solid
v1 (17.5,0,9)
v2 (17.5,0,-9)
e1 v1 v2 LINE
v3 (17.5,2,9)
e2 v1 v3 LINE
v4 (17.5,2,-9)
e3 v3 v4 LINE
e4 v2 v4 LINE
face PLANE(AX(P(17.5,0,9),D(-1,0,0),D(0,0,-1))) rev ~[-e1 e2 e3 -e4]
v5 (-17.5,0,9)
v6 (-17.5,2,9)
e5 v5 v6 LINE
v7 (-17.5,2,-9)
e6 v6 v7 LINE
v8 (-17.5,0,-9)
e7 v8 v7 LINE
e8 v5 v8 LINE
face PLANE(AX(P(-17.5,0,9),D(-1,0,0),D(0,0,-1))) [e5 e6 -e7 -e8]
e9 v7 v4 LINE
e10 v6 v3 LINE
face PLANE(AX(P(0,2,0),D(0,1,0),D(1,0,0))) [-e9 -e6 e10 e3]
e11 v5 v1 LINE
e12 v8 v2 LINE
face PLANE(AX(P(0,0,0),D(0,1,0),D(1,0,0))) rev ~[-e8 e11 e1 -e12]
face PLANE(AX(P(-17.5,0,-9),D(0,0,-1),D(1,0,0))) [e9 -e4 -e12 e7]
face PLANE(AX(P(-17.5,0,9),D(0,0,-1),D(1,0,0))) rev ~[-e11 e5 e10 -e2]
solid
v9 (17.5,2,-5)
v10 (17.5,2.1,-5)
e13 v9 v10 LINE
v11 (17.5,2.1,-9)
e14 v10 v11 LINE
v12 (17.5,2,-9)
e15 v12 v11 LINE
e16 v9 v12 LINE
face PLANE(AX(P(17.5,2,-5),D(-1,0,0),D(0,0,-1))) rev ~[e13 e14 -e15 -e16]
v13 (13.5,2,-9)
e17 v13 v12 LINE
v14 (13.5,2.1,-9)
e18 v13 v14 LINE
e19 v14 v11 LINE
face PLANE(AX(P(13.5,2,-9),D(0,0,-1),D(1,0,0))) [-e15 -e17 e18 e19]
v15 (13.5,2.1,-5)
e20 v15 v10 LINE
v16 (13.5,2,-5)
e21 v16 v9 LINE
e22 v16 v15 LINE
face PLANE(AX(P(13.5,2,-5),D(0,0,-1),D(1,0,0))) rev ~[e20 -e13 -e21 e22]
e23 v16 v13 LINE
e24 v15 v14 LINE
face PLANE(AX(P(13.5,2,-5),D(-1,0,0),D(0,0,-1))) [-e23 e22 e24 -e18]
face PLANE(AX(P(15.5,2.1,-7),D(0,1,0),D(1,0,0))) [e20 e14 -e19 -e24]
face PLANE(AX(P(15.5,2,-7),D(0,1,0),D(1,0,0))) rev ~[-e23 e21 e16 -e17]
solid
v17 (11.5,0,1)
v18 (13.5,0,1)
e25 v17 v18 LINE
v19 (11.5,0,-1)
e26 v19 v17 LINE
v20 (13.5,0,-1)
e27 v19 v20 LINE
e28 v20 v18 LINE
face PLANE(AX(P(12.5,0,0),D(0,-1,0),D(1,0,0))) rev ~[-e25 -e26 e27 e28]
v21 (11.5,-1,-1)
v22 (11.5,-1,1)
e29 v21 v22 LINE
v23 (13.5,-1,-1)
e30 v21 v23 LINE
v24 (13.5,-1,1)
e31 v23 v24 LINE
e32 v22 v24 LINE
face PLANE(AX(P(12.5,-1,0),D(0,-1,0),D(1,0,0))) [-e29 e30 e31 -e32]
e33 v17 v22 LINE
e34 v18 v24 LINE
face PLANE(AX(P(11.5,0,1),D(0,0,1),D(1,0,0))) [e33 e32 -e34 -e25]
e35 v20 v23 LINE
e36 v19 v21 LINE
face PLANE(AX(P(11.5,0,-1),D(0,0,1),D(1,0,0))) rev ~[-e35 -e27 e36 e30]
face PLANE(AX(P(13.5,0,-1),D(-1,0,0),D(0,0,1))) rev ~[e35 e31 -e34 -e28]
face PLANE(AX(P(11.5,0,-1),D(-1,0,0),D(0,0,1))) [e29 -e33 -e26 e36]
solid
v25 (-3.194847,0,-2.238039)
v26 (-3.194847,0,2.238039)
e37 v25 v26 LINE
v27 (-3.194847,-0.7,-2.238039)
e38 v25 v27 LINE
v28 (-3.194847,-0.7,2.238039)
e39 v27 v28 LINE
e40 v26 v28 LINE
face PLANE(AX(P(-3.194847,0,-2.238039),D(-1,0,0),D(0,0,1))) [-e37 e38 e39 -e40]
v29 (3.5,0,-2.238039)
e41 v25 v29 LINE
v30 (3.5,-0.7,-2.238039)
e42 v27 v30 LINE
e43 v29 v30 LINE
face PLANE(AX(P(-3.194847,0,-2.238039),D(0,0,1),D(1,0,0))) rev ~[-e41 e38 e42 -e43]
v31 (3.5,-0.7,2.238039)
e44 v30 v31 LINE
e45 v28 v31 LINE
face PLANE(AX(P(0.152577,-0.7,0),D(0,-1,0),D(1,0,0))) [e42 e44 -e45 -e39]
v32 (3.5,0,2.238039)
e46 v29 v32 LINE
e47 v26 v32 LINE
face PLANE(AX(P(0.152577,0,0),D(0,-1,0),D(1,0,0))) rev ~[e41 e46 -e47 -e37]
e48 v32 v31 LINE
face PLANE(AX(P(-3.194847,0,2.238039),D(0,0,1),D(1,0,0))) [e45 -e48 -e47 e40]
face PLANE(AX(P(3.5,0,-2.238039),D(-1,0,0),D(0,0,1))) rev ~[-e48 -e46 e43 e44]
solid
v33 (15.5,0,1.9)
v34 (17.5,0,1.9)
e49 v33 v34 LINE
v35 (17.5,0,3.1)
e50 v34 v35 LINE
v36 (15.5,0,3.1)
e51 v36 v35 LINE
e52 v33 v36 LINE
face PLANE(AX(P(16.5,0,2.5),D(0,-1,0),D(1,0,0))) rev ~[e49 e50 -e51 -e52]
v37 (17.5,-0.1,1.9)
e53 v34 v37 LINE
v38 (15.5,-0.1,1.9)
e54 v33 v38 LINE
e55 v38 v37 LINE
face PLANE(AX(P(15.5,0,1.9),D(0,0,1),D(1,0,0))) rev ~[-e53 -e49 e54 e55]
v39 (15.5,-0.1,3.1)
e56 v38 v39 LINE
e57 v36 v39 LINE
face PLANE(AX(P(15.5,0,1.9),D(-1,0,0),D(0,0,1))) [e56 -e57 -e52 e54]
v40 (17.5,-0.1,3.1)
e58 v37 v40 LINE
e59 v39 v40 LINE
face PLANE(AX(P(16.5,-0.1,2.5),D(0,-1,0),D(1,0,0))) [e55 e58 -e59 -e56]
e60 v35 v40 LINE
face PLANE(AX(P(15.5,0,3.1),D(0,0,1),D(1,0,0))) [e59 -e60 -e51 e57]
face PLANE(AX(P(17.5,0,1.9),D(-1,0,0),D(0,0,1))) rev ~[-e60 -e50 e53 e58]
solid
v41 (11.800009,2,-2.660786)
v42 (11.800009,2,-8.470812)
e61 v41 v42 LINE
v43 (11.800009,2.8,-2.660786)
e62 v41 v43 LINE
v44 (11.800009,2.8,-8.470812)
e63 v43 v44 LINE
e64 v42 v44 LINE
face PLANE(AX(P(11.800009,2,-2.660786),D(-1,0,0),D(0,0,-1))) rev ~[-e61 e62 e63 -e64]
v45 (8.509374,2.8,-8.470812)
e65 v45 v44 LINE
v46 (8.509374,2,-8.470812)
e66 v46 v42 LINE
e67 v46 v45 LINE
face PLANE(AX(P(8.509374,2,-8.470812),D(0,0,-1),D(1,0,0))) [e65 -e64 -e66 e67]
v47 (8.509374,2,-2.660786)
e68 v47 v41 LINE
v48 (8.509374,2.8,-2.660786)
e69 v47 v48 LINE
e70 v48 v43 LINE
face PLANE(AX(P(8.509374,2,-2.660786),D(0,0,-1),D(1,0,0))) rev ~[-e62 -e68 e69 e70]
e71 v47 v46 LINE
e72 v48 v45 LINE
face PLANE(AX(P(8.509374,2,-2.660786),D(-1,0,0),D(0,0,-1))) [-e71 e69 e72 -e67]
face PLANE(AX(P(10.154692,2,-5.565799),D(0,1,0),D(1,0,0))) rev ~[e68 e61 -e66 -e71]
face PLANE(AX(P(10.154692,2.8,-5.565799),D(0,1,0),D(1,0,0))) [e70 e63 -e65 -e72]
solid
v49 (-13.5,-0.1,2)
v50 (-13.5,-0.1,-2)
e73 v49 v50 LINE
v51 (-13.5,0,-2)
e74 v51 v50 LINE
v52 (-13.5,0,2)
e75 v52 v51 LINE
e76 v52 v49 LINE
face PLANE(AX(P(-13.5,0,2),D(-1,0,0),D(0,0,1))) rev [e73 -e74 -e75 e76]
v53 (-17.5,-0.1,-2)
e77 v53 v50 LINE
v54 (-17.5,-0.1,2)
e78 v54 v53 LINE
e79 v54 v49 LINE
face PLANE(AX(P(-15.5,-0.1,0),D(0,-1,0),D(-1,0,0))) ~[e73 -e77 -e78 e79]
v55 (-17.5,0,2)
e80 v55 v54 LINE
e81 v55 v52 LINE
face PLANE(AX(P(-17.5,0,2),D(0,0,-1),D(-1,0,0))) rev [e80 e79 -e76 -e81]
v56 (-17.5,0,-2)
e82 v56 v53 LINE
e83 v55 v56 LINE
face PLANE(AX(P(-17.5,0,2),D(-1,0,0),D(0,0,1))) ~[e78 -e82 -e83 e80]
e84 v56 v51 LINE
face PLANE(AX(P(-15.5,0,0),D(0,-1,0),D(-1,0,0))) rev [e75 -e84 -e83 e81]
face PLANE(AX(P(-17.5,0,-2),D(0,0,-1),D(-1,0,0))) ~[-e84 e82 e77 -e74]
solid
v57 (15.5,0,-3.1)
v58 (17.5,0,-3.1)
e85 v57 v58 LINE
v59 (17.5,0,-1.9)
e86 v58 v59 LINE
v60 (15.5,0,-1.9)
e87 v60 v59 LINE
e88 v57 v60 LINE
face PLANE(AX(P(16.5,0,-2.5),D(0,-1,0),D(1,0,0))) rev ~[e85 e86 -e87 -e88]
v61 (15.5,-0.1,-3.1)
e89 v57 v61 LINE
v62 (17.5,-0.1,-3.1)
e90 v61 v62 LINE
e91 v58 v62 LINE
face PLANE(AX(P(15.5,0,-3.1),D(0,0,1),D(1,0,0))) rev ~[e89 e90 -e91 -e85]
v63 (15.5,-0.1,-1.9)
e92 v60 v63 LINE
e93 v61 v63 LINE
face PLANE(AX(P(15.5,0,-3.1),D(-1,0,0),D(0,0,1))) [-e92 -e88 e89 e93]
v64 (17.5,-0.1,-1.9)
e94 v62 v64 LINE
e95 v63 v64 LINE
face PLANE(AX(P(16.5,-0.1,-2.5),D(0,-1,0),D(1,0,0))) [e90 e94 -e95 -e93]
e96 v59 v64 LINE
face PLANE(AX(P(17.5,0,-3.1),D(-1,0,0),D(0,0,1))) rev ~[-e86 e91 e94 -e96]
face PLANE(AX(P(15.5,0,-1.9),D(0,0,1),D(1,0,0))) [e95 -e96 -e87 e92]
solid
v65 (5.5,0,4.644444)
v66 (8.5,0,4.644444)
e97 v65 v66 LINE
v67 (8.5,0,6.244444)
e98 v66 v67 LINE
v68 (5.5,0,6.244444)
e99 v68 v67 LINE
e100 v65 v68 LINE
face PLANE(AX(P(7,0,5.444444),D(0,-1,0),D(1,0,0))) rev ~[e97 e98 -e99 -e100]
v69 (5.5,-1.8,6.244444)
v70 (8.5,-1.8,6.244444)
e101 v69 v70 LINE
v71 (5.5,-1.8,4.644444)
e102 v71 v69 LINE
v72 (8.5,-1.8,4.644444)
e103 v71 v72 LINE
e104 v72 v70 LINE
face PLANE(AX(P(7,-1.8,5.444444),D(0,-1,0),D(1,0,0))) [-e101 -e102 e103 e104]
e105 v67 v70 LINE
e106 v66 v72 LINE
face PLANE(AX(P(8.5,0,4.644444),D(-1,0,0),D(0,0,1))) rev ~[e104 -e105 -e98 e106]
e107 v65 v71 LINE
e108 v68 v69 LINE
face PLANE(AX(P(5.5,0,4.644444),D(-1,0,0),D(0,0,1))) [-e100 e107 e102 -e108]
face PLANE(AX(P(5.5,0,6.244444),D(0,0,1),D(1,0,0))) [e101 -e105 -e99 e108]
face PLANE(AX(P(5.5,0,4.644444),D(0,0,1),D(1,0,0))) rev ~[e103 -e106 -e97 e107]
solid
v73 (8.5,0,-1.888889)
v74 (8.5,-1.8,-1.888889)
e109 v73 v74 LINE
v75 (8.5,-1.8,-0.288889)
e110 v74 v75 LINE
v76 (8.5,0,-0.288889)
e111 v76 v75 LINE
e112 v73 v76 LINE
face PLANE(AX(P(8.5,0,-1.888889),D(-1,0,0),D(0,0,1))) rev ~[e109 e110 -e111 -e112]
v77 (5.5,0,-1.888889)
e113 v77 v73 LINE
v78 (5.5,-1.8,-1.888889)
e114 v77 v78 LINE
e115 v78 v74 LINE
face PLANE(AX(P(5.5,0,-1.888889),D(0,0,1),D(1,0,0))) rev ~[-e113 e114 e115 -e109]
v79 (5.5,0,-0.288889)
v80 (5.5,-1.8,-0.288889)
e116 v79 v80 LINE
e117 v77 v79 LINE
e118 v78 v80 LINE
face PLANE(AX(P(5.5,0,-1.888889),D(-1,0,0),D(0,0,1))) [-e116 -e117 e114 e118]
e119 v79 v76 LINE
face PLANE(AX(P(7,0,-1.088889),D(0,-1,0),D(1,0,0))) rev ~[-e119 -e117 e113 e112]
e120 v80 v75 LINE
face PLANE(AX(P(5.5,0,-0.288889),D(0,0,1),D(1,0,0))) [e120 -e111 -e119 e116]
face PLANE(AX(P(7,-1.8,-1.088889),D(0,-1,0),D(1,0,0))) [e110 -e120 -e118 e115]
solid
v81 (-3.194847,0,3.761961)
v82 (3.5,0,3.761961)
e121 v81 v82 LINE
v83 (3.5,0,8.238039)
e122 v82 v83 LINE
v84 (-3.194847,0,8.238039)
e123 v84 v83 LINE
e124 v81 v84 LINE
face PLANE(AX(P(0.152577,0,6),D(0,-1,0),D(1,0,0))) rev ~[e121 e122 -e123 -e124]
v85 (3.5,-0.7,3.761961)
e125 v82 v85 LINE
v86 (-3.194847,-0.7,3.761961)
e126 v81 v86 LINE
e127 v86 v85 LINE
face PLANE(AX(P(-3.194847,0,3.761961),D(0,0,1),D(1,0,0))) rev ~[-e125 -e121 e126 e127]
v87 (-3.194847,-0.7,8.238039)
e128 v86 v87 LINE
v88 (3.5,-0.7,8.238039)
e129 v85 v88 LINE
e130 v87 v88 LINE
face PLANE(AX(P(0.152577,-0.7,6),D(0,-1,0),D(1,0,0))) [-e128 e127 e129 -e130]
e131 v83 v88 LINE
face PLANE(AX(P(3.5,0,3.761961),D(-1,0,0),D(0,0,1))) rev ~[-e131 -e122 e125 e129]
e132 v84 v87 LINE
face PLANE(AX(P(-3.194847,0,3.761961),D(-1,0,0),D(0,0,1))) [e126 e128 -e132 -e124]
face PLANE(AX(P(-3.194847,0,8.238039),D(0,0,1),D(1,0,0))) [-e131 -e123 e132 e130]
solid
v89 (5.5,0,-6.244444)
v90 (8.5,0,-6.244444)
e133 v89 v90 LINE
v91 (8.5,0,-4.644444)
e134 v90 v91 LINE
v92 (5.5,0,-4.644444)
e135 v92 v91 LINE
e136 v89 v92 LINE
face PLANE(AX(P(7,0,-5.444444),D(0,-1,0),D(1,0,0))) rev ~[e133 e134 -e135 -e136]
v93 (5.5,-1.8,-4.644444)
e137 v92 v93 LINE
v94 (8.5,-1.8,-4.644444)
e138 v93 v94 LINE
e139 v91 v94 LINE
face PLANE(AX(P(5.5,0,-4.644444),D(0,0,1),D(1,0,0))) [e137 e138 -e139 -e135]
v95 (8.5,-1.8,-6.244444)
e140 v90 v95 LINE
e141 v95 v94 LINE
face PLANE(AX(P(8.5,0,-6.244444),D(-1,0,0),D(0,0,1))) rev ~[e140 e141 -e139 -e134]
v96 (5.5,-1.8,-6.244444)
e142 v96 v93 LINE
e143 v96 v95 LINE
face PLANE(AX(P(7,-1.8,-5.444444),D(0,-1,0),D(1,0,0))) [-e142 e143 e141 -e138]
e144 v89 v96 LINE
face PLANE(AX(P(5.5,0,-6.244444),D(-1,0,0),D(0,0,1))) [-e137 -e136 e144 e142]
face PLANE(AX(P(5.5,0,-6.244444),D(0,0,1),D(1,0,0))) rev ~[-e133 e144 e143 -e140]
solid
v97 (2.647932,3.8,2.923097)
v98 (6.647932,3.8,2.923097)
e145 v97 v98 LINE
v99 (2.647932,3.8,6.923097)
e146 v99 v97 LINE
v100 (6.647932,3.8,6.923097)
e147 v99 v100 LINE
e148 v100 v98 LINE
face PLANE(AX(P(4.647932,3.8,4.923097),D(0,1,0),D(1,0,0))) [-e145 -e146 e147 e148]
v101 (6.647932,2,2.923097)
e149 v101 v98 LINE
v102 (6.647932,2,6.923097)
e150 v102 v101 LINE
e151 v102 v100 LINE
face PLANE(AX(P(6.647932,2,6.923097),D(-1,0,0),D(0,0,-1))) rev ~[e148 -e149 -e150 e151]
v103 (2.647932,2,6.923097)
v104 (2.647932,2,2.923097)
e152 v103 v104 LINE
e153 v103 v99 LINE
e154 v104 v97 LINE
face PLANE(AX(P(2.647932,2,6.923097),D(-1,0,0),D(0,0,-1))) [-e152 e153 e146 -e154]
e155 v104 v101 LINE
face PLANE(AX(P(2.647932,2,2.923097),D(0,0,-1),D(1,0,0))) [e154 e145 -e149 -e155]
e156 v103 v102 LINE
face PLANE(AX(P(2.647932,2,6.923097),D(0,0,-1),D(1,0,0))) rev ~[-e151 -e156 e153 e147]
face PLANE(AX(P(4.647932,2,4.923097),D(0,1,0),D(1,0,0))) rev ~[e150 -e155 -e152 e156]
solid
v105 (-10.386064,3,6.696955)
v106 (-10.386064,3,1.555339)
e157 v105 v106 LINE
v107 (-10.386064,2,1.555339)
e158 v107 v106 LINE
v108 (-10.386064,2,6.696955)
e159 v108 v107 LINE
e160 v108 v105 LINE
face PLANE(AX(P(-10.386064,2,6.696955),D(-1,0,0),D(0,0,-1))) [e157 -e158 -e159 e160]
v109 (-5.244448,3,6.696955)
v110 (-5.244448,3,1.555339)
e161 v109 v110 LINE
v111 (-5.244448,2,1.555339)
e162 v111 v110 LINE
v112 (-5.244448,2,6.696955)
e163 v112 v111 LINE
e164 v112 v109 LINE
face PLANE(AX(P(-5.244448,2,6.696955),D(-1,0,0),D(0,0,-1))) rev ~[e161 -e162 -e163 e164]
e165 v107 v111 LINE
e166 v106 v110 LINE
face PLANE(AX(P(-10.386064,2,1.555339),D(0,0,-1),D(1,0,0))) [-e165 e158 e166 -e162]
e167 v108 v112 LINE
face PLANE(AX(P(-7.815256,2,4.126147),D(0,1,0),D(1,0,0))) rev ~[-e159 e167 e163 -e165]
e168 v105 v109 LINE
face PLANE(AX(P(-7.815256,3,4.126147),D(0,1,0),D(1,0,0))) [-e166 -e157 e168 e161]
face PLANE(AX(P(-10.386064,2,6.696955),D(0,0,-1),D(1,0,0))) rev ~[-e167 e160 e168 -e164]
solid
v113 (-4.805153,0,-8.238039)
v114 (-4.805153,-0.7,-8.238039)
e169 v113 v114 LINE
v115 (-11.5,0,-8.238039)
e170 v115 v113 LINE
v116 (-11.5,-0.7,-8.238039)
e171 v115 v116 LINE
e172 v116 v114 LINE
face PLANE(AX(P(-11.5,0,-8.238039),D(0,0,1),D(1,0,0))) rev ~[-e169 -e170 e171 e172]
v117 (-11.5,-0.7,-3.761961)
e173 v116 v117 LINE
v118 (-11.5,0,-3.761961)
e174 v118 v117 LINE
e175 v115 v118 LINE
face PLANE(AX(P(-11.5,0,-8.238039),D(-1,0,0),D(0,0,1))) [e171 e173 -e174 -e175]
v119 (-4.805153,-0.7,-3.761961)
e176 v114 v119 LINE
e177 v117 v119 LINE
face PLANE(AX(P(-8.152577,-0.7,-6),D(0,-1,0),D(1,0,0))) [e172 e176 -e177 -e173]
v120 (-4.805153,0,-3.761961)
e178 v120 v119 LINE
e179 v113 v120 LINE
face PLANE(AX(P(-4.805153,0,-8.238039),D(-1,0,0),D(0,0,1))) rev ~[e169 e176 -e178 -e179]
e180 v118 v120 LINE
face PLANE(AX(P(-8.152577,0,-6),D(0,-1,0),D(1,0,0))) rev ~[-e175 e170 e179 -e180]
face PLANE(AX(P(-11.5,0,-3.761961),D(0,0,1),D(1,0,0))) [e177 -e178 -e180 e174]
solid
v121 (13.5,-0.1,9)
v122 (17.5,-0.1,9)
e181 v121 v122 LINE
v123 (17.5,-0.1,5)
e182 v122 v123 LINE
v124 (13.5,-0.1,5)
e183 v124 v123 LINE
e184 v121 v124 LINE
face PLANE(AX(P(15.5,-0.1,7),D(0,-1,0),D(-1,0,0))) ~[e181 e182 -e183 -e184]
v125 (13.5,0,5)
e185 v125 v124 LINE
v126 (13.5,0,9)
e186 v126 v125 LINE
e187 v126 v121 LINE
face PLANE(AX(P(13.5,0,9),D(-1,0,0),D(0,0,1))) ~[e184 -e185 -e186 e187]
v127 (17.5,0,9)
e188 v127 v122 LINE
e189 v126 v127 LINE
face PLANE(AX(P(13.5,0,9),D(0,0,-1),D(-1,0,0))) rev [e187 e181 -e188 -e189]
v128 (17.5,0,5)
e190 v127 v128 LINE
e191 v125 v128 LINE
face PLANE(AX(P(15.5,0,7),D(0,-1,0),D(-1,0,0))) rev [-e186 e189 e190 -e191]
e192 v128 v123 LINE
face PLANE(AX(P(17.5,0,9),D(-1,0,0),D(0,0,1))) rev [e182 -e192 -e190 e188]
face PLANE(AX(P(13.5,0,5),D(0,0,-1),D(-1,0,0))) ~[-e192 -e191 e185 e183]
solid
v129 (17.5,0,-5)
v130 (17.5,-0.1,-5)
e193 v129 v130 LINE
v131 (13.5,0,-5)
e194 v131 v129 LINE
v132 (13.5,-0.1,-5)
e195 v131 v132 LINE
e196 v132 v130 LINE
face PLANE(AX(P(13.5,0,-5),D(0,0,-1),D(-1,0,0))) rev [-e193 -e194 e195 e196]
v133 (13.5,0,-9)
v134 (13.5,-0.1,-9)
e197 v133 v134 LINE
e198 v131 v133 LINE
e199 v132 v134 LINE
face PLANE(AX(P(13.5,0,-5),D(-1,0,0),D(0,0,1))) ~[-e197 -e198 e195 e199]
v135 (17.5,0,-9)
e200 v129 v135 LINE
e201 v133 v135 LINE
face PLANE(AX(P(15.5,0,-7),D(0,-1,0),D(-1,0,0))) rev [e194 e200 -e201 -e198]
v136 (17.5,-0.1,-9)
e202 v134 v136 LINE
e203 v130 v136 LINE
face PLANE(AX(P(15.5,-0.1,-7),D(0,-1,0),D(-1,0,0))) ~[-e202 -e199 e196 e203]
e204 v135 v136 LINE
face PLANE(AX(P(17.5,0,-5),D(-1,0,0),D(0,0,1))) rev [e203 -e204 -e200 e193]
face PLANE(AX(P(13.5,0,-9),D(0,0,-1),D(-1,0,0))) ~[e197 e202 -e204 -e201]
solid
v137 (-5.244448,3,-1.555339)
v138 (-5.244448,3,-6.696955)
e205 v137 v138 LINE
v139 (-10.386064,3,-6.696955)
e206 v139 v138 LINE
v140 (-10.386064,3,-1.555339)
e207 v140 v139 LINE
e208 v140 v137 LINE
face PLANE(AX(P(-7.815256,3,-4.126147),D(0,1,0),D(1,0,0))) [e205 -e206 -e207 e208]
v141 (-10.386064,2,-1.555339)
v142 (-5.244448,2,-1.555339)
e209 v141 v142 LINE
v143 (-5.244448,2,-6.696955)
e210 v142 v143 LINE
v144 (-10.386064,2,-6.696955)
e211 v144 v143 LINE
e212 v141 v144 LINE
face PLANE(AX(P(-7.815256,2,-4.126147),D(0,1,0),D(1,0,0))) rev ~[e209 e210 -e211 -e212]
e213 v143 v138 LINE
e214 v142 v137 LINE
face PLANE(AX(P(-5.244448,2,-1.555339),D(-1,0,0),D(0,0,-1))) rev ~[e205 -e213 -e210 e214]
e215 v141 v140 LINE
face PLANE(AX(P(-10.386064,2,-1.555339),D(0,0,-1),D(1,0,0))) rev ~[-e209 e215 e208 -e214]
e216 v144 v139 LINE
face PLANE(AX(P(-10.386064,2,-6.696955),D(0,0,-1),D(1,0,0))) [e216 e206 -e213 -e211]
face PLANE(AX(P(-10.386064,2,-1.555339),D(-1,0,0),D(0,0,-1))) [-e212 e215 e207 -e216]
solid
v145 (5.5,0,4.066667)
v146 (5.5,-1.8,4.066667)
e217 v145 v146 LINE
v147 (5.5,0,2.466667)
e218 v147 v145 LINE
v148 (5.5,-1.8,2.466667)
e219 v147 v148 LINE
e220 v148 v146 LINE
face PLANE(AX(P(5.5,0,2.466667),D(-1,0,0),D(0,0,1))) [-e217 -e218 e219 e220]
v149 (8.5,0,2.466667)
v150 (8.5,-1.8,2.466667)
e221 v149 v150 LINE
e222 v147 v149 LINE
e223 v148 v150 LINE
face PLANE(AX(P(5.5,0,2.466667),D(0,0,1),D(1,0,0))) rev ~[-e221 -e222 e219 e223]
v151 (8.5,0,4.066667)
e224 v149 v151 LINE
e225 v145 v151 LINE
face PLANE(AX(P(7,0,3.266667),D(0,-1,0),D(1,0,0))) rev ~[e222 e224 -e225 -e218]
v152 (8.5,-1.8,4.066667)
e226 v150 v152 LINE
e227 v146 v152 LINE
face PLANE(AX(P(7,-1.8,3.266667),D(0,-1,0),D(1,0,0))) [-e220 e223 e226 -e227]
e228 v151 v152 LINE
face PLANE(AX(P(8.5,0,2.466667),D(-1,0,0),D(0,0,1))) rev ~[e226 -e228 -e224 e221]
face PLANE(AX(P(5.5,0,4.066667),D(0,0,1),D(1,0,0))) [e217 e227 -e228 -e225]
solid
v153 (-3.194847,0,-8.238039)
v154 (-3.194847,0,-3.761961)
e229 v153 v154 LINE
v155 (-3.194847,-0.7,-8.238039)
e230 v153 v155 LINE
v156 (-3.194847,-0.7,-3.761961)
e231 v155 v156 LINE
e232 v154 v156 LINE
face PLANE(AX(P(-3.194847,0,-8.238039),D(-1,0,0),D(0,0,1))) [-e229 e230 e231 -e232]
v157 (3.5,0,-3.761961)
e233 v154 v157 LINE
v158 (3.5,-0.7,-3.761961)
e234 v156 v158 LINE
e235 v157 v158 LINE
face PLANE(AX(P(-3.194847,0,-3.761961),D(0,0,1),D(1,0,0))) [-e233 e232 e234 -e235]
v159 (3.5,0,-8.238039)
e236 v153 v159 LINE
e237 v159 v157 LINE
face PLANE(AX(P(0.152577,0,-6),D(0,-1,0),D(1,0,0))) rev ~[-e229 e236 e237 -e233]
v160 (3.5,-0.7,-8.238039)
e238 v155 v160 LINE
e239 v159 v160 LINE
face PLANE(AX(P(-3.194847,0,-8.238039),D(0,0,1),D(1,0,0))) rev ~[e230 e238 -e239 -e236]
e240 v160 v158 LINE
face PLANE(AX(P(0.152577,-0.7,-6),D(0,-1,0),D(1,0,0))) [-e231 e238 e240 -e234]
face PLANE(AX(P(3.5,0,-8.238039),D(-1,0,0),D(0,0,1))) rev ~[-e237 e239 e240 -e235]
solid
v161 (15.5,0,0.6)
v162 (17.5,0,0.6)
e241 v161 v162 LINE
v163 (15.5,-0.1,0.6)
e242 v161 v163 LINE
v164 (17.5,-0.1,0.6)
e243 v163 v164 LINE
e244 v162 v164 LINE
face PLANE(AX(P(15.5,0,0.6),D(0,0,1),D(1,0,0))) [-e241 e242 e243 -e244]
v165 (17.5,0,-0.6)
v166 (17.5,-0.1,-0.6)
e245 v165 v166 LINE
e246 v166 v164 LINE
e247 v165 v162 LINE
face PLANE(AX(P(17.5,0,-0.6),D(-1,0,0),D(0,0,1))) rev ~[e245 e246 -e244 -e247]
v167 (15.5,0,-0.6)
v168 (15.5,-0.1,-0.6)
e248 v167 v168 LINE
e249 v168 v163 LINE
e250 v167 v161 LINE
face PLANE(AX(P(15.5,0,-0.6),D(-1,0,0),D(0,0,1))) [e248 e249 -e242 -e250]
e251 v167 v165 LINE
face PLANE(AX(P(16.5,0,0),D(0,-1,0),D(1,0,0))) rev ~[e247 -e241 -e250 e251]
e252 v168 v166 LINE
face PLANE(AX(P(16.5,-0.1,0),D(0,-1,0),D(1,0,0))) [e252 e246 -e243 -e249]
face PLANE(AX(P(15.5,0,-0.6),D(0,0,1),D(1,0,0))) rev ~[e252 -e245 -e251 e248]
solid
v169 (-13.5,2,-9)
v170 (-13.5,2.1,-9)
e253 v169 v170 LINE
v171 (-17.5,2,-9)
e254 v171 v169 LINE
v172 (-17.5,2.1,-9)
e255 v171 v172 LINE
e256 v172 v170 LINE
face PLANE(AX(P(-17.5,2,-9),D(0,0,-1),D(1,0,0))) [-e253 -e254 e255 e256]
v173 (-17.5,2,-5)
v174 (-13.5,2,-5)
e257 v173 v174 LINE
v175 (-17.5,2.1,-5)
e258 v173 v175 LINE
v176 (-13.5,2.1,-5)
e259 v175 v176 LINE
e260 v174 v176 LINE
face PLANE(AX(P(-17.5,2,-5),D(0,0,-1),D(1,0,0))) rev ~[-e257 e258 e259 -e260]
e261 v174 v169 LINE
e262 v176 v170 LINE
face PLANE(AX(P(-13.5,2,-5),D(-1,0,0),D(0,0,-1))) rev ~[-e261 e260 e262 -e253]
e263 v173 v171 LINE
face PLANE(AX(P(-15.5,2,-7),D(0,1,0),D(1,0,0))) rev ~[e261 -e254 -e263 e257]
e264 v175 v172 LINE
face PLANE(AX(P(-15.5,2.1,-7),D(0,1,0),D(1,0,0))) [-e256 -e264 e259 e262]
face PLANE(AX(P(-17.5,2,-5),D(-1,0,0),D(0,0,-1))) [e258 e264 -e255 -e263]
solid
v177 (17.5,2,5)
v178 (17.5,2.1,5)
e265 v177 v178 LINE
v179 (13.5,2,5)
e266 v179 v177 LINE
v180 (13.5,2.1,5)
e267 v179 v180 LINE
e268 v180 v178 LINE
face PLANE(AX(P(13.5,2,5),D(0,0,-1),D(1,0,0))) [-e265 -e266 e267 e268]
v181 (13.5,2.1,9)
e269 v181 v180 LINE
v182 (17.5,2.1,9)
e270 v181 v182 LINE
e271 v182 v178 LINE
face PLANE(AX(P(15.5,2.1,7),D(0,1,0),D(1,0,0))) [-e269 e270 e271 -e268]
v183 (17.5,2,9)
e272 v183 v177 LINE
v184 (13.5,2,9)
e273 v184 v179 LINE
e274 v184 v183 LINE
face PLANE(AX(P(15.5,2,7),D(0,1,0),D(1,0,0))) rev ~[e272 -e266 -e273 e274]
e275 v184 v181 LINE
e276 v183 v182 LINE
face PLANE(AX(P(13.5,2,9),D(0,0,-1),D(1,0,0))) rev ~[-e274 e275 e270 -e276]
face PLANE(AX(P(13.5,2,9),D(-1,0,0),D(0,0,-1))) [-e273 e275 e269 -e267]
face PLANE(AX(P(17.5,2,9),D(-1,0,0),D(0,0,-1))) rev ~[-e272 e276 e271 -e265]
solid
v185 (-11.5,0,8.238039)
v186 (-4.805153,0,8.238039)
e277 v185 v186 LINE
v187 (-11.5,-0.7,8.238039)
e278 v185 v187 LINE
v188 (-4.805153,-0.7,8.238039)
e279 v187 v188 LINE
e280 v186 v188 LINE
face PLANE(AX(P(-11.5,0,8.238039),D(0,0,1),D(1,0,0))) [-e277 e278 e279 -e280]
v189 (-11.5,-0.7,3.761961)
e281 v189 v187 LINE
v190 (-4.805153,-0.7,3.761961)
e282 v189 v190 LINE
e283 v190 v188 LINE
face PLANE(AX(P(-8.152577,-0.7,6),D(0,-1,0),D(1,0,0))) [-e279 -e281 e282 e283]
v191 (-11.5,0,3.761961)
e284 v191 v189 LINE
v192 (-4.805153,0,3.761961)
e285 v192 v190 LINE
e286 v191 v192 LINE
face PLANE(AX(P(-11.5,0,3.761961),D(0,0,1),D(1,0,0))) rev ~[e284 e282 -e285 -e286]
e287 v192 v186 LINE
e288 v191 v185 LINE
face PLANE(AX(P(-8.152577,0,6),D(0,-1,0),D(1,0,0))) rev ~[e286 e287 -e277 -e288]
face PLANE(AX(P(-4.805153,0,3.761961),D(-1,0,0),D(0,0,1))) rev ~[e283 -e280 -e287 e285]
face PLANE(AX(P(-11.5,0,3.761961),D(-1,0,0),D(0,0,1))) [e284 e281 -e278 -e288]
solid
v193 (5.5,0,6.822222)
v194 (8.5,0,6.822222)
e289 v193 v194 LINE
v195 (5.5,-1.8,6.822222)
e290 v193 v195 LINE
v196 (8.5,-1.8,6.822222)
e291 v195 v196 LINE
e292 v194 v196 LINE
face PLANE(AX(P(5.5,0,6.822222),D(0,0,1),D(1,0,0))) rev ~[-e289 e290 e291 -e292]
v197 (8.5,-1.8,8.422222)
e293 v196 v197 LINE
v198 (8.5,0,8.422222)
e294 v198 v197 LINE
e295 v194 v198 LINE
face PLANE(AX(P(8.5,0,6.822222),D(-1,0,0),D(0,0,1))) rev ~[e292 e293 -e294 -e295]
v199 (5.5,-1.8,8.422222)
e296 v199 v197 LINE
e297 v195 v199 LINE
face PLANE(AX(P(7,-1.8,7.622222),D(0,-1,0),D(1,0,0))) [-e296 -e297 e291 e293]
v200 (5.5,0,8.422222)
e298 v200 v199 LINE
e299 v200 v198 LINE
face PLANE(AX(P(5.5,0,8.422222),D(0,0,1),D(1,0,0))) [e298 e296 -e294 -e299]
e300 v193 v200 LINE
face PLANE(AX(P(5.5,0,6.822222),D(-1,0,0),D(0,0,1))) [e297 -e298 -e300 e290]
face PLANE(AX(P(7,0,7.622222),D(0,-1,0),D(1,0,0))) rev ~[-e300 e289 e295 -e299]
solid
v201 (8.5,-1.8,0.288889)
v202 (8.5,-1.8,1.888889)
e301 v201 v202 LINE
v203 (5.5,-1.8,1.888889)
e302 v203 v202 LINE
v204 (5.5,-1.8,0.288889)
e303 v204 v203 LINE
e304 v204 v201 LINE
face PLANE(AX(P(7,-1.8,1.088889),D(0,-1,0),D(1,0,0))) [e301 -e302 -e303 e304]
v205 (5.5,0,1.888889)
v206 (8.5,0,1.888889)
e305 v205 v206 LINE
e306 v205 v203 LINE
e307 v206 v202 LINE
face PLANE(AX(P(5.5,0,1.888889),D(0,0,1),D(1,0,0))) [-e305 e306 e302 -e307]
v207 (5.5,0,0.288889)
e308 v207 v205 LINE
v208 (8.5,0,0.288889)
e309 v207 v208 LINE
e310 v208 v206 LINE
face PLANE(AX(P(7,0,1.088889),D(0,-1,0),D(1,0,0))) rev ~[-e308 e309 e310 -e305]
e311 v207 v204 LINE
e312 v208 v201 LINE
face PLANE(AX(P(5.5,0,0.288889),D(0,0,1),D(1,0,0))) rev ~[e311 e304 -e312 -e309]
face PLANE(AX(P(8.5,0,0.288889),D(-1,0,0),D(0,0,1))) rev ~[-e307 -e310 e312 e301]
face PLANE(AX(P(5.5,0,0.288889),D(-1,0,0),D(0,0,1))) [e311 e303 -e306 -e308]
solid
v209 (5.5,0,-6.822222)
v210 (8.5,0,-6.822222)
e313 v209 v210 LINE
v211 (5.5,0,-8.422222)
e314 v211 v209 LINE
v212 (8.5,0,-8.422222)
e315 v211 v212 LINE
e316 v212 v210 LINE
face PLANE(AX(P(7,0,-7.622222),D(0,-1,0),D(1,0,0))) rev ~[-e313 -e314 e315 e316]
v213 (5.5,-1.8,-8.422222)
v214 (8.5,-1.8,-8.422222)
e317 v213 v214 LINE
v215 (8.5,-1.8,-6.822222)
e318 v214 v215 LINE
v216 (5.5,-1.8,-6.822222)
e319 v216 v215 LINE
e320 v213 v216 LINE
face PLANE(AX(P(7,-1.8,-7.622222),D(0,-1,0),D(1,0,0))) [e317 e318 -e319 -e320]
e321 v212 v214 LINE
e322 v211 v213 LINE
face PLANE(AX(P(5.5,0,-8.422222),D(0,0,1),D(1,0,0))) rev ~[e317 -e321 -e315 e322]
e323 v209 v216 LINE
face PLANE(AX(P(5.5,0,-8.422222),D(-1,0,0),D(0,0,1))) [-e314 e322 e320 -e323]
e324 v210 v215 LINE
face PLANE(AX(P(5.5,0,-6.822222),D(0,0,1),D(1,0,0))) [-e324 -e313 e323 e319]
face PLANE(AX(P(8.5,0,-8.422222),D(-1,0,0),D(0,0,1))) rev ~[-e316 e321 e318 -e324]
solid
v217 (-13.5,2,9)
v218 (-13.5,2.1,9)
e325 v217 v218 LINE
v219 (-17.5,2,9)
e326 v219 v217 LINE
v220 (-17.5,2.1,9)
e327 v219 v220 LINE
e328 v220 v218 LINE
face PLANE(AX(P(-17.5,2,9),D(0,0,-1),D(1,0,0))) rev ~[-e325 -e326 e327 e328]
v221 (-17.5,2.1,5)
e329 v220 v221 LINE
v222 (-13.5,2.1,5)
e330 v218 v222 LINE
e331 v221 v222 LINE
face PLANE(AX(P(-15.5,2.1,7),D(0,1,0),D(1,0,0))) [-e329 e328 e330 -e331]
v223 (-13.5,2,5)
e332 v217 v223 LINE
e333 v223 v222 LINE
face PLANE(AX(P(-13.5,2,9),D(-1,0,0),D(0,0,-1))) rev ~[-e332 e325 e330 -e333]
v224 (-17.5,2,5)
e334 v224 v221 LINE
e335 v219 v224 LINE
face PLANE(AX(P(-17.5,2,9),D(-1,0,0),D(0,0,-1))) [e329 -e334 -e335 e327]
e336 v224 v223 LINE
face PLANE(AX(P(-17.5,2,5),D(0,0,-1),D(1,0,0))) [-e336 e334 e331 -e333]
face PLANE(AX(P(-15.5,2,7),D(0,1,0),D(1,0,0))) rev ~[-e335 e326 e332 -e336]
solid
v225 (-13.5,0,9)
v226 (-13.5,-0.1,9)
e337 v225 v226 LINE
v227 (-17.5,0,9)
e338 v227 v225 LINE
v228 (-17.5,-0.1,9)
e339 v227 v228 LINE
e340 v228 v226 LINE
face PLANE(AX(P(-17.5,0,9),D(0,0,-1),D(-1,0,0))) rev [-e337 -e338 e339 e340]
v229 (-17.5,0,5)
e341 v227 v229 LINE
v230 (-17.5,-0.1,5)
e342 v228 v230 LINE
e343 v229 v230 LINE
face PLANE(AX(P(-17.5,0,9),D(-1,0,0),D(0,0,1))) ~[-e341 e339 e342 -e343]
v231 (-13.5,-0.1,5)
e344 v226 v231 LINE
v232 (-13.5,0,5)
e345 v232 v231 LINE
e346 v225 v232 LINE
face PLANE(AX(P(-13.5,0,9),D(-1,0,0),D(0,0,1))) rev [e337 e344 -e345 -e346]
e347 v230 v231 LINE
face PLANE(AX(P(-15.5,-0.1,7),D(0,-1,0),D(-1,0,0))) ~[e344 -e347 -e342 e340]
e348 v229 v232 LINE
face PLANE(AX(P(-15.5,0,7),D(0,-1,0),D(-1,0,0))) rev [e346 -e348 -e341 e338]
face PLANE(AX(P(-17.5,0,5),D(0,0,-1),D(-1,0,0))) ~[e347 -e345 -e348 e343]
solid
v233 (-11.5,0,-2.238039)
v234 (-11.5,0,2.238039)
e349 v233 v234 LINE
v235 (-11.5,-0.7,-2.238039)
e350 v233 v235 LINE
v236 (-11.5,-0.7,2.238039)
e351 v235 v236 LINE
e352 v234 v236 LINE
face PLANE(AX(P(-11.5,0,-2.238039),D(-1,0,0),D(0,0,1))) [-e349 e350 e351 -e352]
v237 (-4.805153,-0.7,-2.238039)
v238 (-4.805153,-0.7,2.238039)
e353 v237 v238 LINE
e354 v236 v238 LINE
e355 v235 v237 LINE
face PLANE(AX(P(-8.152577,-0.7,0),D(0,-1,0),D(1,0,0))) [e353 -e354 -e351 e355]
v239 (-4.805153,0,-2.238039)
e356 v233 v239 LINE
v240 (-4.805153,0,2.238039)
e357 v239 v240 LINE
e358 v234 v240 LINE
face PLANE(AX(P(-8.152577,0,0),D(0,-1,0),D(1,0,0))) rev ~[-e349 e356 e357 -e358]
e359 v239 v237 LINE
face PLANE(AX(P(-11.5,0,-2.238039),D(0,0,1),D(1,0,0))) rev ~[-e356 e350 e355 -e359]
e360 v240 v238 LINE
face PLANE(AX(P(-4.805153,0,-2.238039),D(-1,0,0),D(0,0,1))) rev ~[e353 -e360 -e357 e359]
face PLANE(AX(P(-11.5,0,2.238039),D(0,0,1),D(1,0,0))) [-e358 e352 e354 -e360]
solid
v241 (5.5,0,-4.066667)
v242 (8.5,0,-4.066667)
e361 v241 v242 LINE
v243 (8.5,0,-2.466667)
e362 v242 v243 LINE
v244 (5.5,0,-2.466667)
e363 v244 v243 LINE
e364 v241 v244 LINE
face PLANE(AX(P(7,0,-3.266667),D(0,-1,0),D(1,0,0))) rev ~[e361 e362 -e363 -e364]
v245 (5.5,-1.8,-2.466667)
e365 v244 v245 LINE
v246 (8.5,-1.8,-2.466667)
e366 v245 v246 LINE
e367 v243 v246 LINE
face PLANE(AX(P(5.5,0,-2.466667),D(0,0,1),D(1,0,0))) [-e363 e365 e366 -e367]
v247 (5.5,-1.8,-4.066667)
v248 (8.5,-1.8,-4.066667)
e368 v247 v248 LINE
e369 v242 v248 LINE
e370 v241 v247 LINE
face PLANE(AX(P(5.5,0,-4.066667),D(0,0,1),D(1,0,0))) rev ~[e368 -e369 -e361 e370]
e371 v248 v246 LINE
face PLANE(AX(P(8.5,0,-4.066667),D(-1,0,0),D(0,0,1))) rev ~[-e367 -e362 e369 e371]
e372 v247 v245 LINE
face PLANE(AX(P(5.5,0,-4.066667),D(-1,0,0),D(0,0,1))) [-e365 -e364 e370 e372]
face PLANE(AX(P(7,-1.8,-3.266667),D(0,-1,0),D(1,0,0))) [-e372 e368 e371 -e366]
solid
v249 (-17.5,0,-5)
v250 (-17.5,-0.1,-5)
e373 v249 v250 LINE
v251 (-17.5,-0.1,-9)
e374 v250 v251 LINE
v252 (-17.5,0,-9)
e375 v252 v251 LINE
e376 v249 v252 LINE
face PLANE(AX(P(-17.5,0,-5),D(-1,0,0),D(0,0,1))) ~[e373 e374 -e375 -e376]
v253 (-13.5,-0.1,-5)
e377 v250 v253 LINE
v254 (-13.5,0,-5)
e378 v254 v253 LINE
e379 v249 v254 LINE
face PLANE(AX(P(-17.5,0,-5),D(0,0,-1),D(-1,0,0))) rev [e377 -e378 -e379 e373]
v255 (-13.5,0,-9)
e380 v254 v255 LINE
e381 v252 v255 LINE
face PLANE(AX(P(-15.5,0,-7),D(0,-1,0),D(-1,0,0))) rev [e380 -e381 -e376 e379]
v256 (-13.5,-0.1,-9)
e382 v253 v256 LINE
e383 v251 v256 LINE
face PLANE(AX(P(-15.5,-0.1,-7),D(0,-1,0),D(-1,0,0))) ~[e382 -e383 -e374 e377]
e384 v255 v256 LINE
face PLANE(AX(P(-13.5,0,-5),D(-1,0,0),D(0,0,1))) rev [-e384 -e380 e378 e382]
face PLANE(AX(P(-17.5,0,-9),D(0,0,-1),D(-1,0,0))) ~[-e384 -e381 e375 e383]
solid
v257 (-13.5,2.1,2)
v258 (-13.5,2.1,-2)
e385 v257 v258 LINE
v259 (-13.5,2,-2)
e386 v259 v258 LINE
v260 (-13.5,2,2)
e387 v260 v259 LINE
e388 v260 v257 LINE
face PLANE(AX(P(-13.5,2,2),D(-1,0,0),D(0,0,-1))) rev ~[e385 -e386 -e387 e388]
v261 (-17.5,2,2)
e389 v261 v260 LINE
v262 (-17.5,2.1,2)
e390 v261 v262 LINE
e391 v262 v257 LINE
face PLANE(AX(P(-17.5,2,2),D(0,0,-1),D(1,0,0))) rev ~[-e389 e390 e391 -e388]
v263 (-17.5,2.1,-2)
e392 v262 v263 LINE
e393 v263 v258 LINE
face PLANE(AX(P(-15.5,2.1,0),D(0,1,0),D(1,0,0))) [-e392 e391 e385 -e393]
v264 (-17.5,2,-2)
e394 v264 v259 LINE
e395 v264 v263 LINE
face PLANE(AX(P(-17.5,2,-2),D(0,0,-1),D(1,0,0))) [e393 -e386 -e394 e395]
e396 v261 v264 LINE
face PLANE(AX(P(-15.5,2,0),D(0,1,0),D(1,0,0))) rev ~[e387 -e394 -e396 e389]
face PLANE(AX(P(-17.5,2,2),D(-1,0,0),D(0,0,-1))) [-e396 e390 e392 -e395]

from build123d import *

# Parameters (mm, degrees)
SKETCH1_W             = 35
SKETCH1_H             = 18
BOSS_EXTRUDE1_DEPTH   = 2
SKETCH2_W             = 3.290634233
SKETCH2_H             = 5.810026068
BOSS_EXTRUDE2_DEPTH   = 0.8
SKETCH3_W             = 4
SKETCH3_H             = 4
BOSS_EXTRUDE3_DEPTH   = 1.8
SKETCH4_W             = 5.141615989
SKETCH4_H             = 5.141615989
BOSS_EXTRUDE4_DEPTH   = 1
BOSS_EXTRUDE4_2_DEPTH = 1
SKETCH5_W             = 4
SKETCH5_H             = 4
BOSS_EXTRUDE5_DEPTH   = 0.1
BOSS_EXTRUDE5_2_DEPTH = 0.1
BOSS_EXTRUDE5_3_DEPTH = 0.1
BOSS_EXTRUDE5_4_DEPTH = 0.1
BOSS_EXTRUDE5_5_DEPTH = 0.1
SKETCH6_W             = 6.694846846
SKETCH6_H             = 4.476078856
BOSS_EXTRUDE6_DEPTH   = 0.7
BOSS_EXTRUDE6_2_DEPTH = 0.7
BOSS_EXTRUDE6_3_DEPTH = 0.7
BOSS_EXTRUDE6_4_DEPTH = 0.7
BOSS_EXTRUDE6_5_DEPTH = 0.7
BOSS_EXTRUDE6_6_DEPTH = 0.7
SKETCH7_W             = 3
SKETCH7_H             = 1.6
BOSS_EXTRUDE7_DEPTH   = 1.8
BOSS_EXTRUDE7_2_DEPTH = 1.8
BOSS_EXTRUDE7_3_DEPTH = 1.8
BOSS_EXTRUDE7_4_DEPTH = 1.8
BOSS_EXTRUDE7_5_DEPTH = 1.8
BOSS_EXTRUDE7_6_DEPTH = 1.8
BOSS_EXTRUDE7_7_DEPTH = 1.8
BOSS_EXTRUDE7_8_DEPTH = 1.8
SKETCH8_W             = 2
SKETCH8_H             = 1.2
BOSS_EXTRUDE8_DEPTH   = 0.1
BOSS_EXTRUDE8_2_DEPTH = 0.1
BOSS_EXTRUDE8_3_DEPTH = 0.1
SKETCH9_W             = 2
SKETCH9_H             = 2
BOSS_EXTRUDE9_DEPTH   = 1


with BuildPart() as part:
    # Sketch1 → Boss-Extrude1 (new body)
    with BuildSketch(Plane(origin=(0, 0, 0), x_dir=(1, 0, 0), z_dir=(0, 1, 0))):
        Rectangle(SKETCH1_W, SKETCH1_H)
    extrude(amount=BOSS_EXTRUDE1_DEPTH)


with BuildPart() as body_2:
    # Sketch2 → Boss-Extrude2 (new body)
    with BuildSketch(Plane(origin=(0, 2, 0), x_dir=(1, 0, 0), z_dir=(0, 1, 0))):
        with Locations((10.154691578, 5.565799308)):
            Rectangle(SKETCH2_W, SKETCH2_H)
    extrude(amount=BOSS_EXTRUDE2_DEPTH)


with BuildPart() as body_3:
    # Sketch3 → Boss-Extrude3 (new body)
    with BuildSketch(Plane(origin=(0, 2, 0), x_dir=(1, 0, 0), z_dir=(0, 1, 0))):
        with Locations((4.647932234, -4.923097309)):
            Rectangle(SKETCH3_W, SKETCH3_H)
    extrude(amount=BOSS_EXTRUDE3_DEPTH)


with BuildPart() as body_4:
    # Sketch4 → Boss-Extrude4 (new body)
    with BuildSketch(Plane(origin=(0, 2, 0), x_dir=(1, 0, 0), z_dir=(0, 1, 0))):
        with Locations((-7.815256304, -4.126146832)):
            Rectangle(SKETCH4_W, SKETCH4_H)
    extrude(amount=BOSS_EXTRUDE4_DEPTH)


with BuildPart() as body_5:
    # Sketch4 → Boss-Extrude4 2 (new body)
    with BuildSketch(Plane(origin=(0, 2, 0), x_dir=(1, 0, 0), z_dir=(0, 1, 0))):
        with Locations((-7.815256304, 4.126146832)):
            Rectangle(SKETCH4_W, SKETCH4_H)
    extrude(amount=BOSS_EXTRUDE4_2_DEPTH)


with BuildPart() as body_6:
    # Sketch5 → Boss-Extrude5 (new body)
    with BuildSketch(Plane(origin=(0, 2, 0), x_dir=(1, 0, 0), z_dir=(0, 1, 0))):
        with Locations((-15.5, 7)):
            Rectangle(SKETCH5_W, SKETCH5_H)
    extrude(amount=BOSS_EXTRUDE5_DEPTH)


with BuildPart() as body_7:
    # Sketch5 → Boss-Extrude5 2 (new body)
    with BuildSketch(Plane(origin=(0, 2, 0), x_dir=(1, 0, 0), z_dir=(0, 1, 0))):
        with Locations((-15.5, 0)):
            Rectangle(SKETCH5_W, SKETCH5_H)
    extrude(amount=BOSS_EXTRUDE5_2_DEPTH)


with BuildPart() as body_8:
    # Sketch5 → Boss-Extrude5 3 (new body)
    with BuildSketch(Plane(origin=(0, 2, 0), x_dir=(1, 0, 0), z_dir=(0, 1, 0))):
        with Locations((15.5, -7)):
            Rectangle(SKETCH5_W, SKETCH5_H)
    extrude(amount=BOSS_EXTRUDE5_3_DEPTH)


with BuildPart() as body_9:
    # Sketch5 → Boss-Extrude5 4 (new body)
    with BuildSketch(Plane(origin=(0, 2, 0), x_dir=(1, 0, 0), z_dir=(0, 1, 0))):
        with Locations((-15.5, -7)):
            Rectangle(SKETCH5_W, SKETCH5_H)
    extrude(amount=BOSS_EXTRUDE5_4_DEPTH)


with BuildPart() as body_10:
    # Sketch5 → Boss-Extrude5 5 (new body)
    with BuildSketch(Plane(origin=(0, 2, 0), x_dir=(1, 0, 0), z_dir=(0, 1, 0))):
        with Locations((15.5, 7)):
            Rectangle(SKETCH5_W, SKETCH5_H)
    extrude(amount=BOSS_EXTRUDE5_5_DEPTH)


with BuildPart() as body_11:
    # Mirror1: mirrored copy
    add(body_6.part.mirror(Plane.ZX.offset(1)))


with BuildPart() as body_12:
    # Mirror1 2: mirrored copy
    add(body_7.part.mirror(Plane.ZX.offset(1)))


with BuildPart() as body_13:
    # Mirror1 3: mirrored copy
    add(body_9.part.mirror(Plane.ZX.offset(1)))


with BuildPart() as body_14:
    # Mirror1 4: mirrored copy
    add(body_10.part.mirror(Plane.ZX.offset(1)))


with BuildPart() as body_15:
    # Mirror1 5: mirrored copy
    add(body_8.part.mirror(Plane.ZX.offset(1)))


with BuildPart() as body_16:
    # Sketch6 → Boss-Extrude6 (new body)
    with BuildSketch(Plane.XZ):
        with Locations((-8.152576577, -6)):
            Rectangle(SKETCH6_W, SKETCH6_H)
    extrude(amount=BOSS_EXTRUDE6_DEPTH)


with BuildPart() as body_17:
    # Sketch6 → Boss-Extrude6 2 (new body)
    with BuildSketch(Plane.XZ):
        with Locations((-8.152576577, 6)):
            Rectangle(SKETCH6_W, SKETCH6_H)
    extrude(amount=BOSS_EXTRUDE6_2_DEPTH)


with BuildPart() as body_18:
    # Sketch6 → Boss-Extrude6 3 (new body)
    with BuildSketch(Plane.XZ):
        with Locations((-8.152576577, 0)):
            Rectangle(SKETCH6_W, SKETCH6_H)
    extrude(amount=BOSS_EXTRUDE6_3_DEPTH)


with BuildPart() as body_19:
    # Sketch6 → Boss-Extrude6 4 (new body)
    with BuildSketch(Plane.XZ):
        with Locations((0.152576577, -6)):
            Rectangle(SKETCH6_W, SKETCH6_H)
    extrude(amount=BOSS_EXTRUDE6_4_DEPTH)


with BuildPart() as body_20:
    # Sketch6 → Boss-Extrude6 5 (new body)
    with BuildSketch(Plane.XZ):
        with Locations((0.152576577, 0)):
            Rectangle(SKETCH6_W, SKETCH6_H)
    extrude(amount=BOSS_EXTRUDE6_5_DEPTH)


with BuildPart() as body_21:
    # Sketch6 → Boss-Extrude6 6 (new body)
    with BuildSketch(Plane.XZ):
        with Locations((0.152576577, 6)):
            Rectangle(SKETCH6_W, SKETCH6_H)
    extrude(amount=BOSS_EXTRUDE6_6_DEPTH)


with BuildPart() as body_22:
    # Sketch7 → Boss-Extrude7 (new body)
    with BuildSketch(Plane.XZ):
        with Locations((7, 5.444444444)):
            Rectangle(SKETCH7_W, SKETCH7_H)
    extrude(amount=BOSS_EXTRUDE7_DEPTH)


with BuildPart() as body_23:
    # Sketch7 → Boss-Extrude7 2 (new body)
    with BuildSketch(Plane.XZ):
        with Locations((7, 7.622222222)):
            Rectangle(SKETCH7_W, SKETCH7_H)
    extrude(amount=BOSS_EXTRUDE7_2_DEPTH)


with BuildPart() as body_24:
    # Sketch7 → Boss-Extrude7 3 (new body)
    with BuildSketch(Plane.XZ):
        with Locations((7, 3.266666667)):
            Rectangle(SKETCH7_W, SKETCH7_H)
    extrude(amount=BOSS_EXTRUDE7_3_DEPTH)


with BuildPart() as body_25:
    # Sketch7 → Boss-Extrude7 4 (new body)
    with BuildSketch(Plane.XZ):
        with Locations((7, 1.088888889)):
            Rectangle(SKETCH7_W, SKETCH7_H)
    extrude(amount=BOSS_EXTRUDE7_4_DEPTH)


with BuildPart() as body_26:
    # Sketch7 → Boss-Extrude7 5 (new body)
    with BuildSketch(Plane.XZ):
        with Locations((7, -1.088888889)):
            Rectangle(SKETCH7_W, SKETCH7_H)
    extrude(amount=BOSS_EXTRUDE7_5_DEPTH)


with BuildPart() as body_27:
    # Sketch7 → Boss-Extrude7 6 (new body)
    with BuildSketch(Plane.XZ):
        with Locations((7, -3.266666667)):
            Rectangle(SKETCH7_W, SKETCH7_H)
    extrude(amount=BOSS_EXTRUDE7_6_DEPTH)


with BuildPart() as body_28:
    # Sketch7 → Boss-Extrude7 7 (new body)
    with BuildSketch(Plane.XZ):
        with Locations((7, -5.444444444)):
            Rectangle(SKETCH7_W, SKETCH7_H)
    extrude(amount=BOSS_EXTRUDE7_7_DEPTH)


with BuildPart() as body_29:
    # Sketch7 → Boss-Extrude7 8 (new body)
    with BuildSketch(Plane.XZ):
        with Locations((7, -7.622222222)):
            Rectangle(SKETCH7_W, SKETCH7_H)
    extrude(amount=BOSS_EXTRUDE7_8_DEPTH)


with BuildPart() as body_30:
    # Sketch8 → Boss-Extrude8 (new body)
    with BuildSketch(Plane.XZ):
        with Locations((16.5, 0)):
            Rectangle(SKETCH8_W, SKETCH8_H)
    extrude(amount=BOSS_EXTRUDE8_DEPTH)


with BuildPart() as body_31:
    # Sketch8 → Boss-Extrude8 2 (new body)
    with BuildSketch(Plane.XZ):
        with Locations((16.5, 2.5)):
            Rectangle(SKETCH8_W, SKETCH8_H)
    extrude(amount=BOSS_EXTRUDE8_2_DEPTH)


with BuildPart() as body_32:
    # Sketch8 → Boss-Extrude8 3 (new body)
    with BuildSketch(Plane.XZ):
        with Locations((16.5, -2.5)):
            Rectangle(SKETCH8_W, SKETCH8_H)
    extrude(amount=BOSS_EXTRUDE8_3_DEPTH)


with BuildPart() as body_33:
    # Sketch9 → Boss-Extrude9 (new body)
    with BuildSketch(Plane.XZ):
        with Locations((12.5, 0)):
            Rectangle(SKETCH9_W, SKETCH9_H)
    extrude(amount=BOSS_EXTRUDE9_DEPTH)


solid = Compound([part.part, body_2.part, body_3.part, body_4.part, body_5.part, body_6.part, body_7.part, body_8.part, body_9.part, body_10.part, body_11.part, body_12.part, body_13.part, body_14.part, body_15.part, body_16.part, body_17.part, body_18.part, body_19.part, body_20.part, body_21.part, body_22.part, body_23.part, body_24.part, body_25.part, body_26.part, body_27.part, body_28.part, body_29.part, body_30.part, body_31.part, body_32.part, body_33.part])
